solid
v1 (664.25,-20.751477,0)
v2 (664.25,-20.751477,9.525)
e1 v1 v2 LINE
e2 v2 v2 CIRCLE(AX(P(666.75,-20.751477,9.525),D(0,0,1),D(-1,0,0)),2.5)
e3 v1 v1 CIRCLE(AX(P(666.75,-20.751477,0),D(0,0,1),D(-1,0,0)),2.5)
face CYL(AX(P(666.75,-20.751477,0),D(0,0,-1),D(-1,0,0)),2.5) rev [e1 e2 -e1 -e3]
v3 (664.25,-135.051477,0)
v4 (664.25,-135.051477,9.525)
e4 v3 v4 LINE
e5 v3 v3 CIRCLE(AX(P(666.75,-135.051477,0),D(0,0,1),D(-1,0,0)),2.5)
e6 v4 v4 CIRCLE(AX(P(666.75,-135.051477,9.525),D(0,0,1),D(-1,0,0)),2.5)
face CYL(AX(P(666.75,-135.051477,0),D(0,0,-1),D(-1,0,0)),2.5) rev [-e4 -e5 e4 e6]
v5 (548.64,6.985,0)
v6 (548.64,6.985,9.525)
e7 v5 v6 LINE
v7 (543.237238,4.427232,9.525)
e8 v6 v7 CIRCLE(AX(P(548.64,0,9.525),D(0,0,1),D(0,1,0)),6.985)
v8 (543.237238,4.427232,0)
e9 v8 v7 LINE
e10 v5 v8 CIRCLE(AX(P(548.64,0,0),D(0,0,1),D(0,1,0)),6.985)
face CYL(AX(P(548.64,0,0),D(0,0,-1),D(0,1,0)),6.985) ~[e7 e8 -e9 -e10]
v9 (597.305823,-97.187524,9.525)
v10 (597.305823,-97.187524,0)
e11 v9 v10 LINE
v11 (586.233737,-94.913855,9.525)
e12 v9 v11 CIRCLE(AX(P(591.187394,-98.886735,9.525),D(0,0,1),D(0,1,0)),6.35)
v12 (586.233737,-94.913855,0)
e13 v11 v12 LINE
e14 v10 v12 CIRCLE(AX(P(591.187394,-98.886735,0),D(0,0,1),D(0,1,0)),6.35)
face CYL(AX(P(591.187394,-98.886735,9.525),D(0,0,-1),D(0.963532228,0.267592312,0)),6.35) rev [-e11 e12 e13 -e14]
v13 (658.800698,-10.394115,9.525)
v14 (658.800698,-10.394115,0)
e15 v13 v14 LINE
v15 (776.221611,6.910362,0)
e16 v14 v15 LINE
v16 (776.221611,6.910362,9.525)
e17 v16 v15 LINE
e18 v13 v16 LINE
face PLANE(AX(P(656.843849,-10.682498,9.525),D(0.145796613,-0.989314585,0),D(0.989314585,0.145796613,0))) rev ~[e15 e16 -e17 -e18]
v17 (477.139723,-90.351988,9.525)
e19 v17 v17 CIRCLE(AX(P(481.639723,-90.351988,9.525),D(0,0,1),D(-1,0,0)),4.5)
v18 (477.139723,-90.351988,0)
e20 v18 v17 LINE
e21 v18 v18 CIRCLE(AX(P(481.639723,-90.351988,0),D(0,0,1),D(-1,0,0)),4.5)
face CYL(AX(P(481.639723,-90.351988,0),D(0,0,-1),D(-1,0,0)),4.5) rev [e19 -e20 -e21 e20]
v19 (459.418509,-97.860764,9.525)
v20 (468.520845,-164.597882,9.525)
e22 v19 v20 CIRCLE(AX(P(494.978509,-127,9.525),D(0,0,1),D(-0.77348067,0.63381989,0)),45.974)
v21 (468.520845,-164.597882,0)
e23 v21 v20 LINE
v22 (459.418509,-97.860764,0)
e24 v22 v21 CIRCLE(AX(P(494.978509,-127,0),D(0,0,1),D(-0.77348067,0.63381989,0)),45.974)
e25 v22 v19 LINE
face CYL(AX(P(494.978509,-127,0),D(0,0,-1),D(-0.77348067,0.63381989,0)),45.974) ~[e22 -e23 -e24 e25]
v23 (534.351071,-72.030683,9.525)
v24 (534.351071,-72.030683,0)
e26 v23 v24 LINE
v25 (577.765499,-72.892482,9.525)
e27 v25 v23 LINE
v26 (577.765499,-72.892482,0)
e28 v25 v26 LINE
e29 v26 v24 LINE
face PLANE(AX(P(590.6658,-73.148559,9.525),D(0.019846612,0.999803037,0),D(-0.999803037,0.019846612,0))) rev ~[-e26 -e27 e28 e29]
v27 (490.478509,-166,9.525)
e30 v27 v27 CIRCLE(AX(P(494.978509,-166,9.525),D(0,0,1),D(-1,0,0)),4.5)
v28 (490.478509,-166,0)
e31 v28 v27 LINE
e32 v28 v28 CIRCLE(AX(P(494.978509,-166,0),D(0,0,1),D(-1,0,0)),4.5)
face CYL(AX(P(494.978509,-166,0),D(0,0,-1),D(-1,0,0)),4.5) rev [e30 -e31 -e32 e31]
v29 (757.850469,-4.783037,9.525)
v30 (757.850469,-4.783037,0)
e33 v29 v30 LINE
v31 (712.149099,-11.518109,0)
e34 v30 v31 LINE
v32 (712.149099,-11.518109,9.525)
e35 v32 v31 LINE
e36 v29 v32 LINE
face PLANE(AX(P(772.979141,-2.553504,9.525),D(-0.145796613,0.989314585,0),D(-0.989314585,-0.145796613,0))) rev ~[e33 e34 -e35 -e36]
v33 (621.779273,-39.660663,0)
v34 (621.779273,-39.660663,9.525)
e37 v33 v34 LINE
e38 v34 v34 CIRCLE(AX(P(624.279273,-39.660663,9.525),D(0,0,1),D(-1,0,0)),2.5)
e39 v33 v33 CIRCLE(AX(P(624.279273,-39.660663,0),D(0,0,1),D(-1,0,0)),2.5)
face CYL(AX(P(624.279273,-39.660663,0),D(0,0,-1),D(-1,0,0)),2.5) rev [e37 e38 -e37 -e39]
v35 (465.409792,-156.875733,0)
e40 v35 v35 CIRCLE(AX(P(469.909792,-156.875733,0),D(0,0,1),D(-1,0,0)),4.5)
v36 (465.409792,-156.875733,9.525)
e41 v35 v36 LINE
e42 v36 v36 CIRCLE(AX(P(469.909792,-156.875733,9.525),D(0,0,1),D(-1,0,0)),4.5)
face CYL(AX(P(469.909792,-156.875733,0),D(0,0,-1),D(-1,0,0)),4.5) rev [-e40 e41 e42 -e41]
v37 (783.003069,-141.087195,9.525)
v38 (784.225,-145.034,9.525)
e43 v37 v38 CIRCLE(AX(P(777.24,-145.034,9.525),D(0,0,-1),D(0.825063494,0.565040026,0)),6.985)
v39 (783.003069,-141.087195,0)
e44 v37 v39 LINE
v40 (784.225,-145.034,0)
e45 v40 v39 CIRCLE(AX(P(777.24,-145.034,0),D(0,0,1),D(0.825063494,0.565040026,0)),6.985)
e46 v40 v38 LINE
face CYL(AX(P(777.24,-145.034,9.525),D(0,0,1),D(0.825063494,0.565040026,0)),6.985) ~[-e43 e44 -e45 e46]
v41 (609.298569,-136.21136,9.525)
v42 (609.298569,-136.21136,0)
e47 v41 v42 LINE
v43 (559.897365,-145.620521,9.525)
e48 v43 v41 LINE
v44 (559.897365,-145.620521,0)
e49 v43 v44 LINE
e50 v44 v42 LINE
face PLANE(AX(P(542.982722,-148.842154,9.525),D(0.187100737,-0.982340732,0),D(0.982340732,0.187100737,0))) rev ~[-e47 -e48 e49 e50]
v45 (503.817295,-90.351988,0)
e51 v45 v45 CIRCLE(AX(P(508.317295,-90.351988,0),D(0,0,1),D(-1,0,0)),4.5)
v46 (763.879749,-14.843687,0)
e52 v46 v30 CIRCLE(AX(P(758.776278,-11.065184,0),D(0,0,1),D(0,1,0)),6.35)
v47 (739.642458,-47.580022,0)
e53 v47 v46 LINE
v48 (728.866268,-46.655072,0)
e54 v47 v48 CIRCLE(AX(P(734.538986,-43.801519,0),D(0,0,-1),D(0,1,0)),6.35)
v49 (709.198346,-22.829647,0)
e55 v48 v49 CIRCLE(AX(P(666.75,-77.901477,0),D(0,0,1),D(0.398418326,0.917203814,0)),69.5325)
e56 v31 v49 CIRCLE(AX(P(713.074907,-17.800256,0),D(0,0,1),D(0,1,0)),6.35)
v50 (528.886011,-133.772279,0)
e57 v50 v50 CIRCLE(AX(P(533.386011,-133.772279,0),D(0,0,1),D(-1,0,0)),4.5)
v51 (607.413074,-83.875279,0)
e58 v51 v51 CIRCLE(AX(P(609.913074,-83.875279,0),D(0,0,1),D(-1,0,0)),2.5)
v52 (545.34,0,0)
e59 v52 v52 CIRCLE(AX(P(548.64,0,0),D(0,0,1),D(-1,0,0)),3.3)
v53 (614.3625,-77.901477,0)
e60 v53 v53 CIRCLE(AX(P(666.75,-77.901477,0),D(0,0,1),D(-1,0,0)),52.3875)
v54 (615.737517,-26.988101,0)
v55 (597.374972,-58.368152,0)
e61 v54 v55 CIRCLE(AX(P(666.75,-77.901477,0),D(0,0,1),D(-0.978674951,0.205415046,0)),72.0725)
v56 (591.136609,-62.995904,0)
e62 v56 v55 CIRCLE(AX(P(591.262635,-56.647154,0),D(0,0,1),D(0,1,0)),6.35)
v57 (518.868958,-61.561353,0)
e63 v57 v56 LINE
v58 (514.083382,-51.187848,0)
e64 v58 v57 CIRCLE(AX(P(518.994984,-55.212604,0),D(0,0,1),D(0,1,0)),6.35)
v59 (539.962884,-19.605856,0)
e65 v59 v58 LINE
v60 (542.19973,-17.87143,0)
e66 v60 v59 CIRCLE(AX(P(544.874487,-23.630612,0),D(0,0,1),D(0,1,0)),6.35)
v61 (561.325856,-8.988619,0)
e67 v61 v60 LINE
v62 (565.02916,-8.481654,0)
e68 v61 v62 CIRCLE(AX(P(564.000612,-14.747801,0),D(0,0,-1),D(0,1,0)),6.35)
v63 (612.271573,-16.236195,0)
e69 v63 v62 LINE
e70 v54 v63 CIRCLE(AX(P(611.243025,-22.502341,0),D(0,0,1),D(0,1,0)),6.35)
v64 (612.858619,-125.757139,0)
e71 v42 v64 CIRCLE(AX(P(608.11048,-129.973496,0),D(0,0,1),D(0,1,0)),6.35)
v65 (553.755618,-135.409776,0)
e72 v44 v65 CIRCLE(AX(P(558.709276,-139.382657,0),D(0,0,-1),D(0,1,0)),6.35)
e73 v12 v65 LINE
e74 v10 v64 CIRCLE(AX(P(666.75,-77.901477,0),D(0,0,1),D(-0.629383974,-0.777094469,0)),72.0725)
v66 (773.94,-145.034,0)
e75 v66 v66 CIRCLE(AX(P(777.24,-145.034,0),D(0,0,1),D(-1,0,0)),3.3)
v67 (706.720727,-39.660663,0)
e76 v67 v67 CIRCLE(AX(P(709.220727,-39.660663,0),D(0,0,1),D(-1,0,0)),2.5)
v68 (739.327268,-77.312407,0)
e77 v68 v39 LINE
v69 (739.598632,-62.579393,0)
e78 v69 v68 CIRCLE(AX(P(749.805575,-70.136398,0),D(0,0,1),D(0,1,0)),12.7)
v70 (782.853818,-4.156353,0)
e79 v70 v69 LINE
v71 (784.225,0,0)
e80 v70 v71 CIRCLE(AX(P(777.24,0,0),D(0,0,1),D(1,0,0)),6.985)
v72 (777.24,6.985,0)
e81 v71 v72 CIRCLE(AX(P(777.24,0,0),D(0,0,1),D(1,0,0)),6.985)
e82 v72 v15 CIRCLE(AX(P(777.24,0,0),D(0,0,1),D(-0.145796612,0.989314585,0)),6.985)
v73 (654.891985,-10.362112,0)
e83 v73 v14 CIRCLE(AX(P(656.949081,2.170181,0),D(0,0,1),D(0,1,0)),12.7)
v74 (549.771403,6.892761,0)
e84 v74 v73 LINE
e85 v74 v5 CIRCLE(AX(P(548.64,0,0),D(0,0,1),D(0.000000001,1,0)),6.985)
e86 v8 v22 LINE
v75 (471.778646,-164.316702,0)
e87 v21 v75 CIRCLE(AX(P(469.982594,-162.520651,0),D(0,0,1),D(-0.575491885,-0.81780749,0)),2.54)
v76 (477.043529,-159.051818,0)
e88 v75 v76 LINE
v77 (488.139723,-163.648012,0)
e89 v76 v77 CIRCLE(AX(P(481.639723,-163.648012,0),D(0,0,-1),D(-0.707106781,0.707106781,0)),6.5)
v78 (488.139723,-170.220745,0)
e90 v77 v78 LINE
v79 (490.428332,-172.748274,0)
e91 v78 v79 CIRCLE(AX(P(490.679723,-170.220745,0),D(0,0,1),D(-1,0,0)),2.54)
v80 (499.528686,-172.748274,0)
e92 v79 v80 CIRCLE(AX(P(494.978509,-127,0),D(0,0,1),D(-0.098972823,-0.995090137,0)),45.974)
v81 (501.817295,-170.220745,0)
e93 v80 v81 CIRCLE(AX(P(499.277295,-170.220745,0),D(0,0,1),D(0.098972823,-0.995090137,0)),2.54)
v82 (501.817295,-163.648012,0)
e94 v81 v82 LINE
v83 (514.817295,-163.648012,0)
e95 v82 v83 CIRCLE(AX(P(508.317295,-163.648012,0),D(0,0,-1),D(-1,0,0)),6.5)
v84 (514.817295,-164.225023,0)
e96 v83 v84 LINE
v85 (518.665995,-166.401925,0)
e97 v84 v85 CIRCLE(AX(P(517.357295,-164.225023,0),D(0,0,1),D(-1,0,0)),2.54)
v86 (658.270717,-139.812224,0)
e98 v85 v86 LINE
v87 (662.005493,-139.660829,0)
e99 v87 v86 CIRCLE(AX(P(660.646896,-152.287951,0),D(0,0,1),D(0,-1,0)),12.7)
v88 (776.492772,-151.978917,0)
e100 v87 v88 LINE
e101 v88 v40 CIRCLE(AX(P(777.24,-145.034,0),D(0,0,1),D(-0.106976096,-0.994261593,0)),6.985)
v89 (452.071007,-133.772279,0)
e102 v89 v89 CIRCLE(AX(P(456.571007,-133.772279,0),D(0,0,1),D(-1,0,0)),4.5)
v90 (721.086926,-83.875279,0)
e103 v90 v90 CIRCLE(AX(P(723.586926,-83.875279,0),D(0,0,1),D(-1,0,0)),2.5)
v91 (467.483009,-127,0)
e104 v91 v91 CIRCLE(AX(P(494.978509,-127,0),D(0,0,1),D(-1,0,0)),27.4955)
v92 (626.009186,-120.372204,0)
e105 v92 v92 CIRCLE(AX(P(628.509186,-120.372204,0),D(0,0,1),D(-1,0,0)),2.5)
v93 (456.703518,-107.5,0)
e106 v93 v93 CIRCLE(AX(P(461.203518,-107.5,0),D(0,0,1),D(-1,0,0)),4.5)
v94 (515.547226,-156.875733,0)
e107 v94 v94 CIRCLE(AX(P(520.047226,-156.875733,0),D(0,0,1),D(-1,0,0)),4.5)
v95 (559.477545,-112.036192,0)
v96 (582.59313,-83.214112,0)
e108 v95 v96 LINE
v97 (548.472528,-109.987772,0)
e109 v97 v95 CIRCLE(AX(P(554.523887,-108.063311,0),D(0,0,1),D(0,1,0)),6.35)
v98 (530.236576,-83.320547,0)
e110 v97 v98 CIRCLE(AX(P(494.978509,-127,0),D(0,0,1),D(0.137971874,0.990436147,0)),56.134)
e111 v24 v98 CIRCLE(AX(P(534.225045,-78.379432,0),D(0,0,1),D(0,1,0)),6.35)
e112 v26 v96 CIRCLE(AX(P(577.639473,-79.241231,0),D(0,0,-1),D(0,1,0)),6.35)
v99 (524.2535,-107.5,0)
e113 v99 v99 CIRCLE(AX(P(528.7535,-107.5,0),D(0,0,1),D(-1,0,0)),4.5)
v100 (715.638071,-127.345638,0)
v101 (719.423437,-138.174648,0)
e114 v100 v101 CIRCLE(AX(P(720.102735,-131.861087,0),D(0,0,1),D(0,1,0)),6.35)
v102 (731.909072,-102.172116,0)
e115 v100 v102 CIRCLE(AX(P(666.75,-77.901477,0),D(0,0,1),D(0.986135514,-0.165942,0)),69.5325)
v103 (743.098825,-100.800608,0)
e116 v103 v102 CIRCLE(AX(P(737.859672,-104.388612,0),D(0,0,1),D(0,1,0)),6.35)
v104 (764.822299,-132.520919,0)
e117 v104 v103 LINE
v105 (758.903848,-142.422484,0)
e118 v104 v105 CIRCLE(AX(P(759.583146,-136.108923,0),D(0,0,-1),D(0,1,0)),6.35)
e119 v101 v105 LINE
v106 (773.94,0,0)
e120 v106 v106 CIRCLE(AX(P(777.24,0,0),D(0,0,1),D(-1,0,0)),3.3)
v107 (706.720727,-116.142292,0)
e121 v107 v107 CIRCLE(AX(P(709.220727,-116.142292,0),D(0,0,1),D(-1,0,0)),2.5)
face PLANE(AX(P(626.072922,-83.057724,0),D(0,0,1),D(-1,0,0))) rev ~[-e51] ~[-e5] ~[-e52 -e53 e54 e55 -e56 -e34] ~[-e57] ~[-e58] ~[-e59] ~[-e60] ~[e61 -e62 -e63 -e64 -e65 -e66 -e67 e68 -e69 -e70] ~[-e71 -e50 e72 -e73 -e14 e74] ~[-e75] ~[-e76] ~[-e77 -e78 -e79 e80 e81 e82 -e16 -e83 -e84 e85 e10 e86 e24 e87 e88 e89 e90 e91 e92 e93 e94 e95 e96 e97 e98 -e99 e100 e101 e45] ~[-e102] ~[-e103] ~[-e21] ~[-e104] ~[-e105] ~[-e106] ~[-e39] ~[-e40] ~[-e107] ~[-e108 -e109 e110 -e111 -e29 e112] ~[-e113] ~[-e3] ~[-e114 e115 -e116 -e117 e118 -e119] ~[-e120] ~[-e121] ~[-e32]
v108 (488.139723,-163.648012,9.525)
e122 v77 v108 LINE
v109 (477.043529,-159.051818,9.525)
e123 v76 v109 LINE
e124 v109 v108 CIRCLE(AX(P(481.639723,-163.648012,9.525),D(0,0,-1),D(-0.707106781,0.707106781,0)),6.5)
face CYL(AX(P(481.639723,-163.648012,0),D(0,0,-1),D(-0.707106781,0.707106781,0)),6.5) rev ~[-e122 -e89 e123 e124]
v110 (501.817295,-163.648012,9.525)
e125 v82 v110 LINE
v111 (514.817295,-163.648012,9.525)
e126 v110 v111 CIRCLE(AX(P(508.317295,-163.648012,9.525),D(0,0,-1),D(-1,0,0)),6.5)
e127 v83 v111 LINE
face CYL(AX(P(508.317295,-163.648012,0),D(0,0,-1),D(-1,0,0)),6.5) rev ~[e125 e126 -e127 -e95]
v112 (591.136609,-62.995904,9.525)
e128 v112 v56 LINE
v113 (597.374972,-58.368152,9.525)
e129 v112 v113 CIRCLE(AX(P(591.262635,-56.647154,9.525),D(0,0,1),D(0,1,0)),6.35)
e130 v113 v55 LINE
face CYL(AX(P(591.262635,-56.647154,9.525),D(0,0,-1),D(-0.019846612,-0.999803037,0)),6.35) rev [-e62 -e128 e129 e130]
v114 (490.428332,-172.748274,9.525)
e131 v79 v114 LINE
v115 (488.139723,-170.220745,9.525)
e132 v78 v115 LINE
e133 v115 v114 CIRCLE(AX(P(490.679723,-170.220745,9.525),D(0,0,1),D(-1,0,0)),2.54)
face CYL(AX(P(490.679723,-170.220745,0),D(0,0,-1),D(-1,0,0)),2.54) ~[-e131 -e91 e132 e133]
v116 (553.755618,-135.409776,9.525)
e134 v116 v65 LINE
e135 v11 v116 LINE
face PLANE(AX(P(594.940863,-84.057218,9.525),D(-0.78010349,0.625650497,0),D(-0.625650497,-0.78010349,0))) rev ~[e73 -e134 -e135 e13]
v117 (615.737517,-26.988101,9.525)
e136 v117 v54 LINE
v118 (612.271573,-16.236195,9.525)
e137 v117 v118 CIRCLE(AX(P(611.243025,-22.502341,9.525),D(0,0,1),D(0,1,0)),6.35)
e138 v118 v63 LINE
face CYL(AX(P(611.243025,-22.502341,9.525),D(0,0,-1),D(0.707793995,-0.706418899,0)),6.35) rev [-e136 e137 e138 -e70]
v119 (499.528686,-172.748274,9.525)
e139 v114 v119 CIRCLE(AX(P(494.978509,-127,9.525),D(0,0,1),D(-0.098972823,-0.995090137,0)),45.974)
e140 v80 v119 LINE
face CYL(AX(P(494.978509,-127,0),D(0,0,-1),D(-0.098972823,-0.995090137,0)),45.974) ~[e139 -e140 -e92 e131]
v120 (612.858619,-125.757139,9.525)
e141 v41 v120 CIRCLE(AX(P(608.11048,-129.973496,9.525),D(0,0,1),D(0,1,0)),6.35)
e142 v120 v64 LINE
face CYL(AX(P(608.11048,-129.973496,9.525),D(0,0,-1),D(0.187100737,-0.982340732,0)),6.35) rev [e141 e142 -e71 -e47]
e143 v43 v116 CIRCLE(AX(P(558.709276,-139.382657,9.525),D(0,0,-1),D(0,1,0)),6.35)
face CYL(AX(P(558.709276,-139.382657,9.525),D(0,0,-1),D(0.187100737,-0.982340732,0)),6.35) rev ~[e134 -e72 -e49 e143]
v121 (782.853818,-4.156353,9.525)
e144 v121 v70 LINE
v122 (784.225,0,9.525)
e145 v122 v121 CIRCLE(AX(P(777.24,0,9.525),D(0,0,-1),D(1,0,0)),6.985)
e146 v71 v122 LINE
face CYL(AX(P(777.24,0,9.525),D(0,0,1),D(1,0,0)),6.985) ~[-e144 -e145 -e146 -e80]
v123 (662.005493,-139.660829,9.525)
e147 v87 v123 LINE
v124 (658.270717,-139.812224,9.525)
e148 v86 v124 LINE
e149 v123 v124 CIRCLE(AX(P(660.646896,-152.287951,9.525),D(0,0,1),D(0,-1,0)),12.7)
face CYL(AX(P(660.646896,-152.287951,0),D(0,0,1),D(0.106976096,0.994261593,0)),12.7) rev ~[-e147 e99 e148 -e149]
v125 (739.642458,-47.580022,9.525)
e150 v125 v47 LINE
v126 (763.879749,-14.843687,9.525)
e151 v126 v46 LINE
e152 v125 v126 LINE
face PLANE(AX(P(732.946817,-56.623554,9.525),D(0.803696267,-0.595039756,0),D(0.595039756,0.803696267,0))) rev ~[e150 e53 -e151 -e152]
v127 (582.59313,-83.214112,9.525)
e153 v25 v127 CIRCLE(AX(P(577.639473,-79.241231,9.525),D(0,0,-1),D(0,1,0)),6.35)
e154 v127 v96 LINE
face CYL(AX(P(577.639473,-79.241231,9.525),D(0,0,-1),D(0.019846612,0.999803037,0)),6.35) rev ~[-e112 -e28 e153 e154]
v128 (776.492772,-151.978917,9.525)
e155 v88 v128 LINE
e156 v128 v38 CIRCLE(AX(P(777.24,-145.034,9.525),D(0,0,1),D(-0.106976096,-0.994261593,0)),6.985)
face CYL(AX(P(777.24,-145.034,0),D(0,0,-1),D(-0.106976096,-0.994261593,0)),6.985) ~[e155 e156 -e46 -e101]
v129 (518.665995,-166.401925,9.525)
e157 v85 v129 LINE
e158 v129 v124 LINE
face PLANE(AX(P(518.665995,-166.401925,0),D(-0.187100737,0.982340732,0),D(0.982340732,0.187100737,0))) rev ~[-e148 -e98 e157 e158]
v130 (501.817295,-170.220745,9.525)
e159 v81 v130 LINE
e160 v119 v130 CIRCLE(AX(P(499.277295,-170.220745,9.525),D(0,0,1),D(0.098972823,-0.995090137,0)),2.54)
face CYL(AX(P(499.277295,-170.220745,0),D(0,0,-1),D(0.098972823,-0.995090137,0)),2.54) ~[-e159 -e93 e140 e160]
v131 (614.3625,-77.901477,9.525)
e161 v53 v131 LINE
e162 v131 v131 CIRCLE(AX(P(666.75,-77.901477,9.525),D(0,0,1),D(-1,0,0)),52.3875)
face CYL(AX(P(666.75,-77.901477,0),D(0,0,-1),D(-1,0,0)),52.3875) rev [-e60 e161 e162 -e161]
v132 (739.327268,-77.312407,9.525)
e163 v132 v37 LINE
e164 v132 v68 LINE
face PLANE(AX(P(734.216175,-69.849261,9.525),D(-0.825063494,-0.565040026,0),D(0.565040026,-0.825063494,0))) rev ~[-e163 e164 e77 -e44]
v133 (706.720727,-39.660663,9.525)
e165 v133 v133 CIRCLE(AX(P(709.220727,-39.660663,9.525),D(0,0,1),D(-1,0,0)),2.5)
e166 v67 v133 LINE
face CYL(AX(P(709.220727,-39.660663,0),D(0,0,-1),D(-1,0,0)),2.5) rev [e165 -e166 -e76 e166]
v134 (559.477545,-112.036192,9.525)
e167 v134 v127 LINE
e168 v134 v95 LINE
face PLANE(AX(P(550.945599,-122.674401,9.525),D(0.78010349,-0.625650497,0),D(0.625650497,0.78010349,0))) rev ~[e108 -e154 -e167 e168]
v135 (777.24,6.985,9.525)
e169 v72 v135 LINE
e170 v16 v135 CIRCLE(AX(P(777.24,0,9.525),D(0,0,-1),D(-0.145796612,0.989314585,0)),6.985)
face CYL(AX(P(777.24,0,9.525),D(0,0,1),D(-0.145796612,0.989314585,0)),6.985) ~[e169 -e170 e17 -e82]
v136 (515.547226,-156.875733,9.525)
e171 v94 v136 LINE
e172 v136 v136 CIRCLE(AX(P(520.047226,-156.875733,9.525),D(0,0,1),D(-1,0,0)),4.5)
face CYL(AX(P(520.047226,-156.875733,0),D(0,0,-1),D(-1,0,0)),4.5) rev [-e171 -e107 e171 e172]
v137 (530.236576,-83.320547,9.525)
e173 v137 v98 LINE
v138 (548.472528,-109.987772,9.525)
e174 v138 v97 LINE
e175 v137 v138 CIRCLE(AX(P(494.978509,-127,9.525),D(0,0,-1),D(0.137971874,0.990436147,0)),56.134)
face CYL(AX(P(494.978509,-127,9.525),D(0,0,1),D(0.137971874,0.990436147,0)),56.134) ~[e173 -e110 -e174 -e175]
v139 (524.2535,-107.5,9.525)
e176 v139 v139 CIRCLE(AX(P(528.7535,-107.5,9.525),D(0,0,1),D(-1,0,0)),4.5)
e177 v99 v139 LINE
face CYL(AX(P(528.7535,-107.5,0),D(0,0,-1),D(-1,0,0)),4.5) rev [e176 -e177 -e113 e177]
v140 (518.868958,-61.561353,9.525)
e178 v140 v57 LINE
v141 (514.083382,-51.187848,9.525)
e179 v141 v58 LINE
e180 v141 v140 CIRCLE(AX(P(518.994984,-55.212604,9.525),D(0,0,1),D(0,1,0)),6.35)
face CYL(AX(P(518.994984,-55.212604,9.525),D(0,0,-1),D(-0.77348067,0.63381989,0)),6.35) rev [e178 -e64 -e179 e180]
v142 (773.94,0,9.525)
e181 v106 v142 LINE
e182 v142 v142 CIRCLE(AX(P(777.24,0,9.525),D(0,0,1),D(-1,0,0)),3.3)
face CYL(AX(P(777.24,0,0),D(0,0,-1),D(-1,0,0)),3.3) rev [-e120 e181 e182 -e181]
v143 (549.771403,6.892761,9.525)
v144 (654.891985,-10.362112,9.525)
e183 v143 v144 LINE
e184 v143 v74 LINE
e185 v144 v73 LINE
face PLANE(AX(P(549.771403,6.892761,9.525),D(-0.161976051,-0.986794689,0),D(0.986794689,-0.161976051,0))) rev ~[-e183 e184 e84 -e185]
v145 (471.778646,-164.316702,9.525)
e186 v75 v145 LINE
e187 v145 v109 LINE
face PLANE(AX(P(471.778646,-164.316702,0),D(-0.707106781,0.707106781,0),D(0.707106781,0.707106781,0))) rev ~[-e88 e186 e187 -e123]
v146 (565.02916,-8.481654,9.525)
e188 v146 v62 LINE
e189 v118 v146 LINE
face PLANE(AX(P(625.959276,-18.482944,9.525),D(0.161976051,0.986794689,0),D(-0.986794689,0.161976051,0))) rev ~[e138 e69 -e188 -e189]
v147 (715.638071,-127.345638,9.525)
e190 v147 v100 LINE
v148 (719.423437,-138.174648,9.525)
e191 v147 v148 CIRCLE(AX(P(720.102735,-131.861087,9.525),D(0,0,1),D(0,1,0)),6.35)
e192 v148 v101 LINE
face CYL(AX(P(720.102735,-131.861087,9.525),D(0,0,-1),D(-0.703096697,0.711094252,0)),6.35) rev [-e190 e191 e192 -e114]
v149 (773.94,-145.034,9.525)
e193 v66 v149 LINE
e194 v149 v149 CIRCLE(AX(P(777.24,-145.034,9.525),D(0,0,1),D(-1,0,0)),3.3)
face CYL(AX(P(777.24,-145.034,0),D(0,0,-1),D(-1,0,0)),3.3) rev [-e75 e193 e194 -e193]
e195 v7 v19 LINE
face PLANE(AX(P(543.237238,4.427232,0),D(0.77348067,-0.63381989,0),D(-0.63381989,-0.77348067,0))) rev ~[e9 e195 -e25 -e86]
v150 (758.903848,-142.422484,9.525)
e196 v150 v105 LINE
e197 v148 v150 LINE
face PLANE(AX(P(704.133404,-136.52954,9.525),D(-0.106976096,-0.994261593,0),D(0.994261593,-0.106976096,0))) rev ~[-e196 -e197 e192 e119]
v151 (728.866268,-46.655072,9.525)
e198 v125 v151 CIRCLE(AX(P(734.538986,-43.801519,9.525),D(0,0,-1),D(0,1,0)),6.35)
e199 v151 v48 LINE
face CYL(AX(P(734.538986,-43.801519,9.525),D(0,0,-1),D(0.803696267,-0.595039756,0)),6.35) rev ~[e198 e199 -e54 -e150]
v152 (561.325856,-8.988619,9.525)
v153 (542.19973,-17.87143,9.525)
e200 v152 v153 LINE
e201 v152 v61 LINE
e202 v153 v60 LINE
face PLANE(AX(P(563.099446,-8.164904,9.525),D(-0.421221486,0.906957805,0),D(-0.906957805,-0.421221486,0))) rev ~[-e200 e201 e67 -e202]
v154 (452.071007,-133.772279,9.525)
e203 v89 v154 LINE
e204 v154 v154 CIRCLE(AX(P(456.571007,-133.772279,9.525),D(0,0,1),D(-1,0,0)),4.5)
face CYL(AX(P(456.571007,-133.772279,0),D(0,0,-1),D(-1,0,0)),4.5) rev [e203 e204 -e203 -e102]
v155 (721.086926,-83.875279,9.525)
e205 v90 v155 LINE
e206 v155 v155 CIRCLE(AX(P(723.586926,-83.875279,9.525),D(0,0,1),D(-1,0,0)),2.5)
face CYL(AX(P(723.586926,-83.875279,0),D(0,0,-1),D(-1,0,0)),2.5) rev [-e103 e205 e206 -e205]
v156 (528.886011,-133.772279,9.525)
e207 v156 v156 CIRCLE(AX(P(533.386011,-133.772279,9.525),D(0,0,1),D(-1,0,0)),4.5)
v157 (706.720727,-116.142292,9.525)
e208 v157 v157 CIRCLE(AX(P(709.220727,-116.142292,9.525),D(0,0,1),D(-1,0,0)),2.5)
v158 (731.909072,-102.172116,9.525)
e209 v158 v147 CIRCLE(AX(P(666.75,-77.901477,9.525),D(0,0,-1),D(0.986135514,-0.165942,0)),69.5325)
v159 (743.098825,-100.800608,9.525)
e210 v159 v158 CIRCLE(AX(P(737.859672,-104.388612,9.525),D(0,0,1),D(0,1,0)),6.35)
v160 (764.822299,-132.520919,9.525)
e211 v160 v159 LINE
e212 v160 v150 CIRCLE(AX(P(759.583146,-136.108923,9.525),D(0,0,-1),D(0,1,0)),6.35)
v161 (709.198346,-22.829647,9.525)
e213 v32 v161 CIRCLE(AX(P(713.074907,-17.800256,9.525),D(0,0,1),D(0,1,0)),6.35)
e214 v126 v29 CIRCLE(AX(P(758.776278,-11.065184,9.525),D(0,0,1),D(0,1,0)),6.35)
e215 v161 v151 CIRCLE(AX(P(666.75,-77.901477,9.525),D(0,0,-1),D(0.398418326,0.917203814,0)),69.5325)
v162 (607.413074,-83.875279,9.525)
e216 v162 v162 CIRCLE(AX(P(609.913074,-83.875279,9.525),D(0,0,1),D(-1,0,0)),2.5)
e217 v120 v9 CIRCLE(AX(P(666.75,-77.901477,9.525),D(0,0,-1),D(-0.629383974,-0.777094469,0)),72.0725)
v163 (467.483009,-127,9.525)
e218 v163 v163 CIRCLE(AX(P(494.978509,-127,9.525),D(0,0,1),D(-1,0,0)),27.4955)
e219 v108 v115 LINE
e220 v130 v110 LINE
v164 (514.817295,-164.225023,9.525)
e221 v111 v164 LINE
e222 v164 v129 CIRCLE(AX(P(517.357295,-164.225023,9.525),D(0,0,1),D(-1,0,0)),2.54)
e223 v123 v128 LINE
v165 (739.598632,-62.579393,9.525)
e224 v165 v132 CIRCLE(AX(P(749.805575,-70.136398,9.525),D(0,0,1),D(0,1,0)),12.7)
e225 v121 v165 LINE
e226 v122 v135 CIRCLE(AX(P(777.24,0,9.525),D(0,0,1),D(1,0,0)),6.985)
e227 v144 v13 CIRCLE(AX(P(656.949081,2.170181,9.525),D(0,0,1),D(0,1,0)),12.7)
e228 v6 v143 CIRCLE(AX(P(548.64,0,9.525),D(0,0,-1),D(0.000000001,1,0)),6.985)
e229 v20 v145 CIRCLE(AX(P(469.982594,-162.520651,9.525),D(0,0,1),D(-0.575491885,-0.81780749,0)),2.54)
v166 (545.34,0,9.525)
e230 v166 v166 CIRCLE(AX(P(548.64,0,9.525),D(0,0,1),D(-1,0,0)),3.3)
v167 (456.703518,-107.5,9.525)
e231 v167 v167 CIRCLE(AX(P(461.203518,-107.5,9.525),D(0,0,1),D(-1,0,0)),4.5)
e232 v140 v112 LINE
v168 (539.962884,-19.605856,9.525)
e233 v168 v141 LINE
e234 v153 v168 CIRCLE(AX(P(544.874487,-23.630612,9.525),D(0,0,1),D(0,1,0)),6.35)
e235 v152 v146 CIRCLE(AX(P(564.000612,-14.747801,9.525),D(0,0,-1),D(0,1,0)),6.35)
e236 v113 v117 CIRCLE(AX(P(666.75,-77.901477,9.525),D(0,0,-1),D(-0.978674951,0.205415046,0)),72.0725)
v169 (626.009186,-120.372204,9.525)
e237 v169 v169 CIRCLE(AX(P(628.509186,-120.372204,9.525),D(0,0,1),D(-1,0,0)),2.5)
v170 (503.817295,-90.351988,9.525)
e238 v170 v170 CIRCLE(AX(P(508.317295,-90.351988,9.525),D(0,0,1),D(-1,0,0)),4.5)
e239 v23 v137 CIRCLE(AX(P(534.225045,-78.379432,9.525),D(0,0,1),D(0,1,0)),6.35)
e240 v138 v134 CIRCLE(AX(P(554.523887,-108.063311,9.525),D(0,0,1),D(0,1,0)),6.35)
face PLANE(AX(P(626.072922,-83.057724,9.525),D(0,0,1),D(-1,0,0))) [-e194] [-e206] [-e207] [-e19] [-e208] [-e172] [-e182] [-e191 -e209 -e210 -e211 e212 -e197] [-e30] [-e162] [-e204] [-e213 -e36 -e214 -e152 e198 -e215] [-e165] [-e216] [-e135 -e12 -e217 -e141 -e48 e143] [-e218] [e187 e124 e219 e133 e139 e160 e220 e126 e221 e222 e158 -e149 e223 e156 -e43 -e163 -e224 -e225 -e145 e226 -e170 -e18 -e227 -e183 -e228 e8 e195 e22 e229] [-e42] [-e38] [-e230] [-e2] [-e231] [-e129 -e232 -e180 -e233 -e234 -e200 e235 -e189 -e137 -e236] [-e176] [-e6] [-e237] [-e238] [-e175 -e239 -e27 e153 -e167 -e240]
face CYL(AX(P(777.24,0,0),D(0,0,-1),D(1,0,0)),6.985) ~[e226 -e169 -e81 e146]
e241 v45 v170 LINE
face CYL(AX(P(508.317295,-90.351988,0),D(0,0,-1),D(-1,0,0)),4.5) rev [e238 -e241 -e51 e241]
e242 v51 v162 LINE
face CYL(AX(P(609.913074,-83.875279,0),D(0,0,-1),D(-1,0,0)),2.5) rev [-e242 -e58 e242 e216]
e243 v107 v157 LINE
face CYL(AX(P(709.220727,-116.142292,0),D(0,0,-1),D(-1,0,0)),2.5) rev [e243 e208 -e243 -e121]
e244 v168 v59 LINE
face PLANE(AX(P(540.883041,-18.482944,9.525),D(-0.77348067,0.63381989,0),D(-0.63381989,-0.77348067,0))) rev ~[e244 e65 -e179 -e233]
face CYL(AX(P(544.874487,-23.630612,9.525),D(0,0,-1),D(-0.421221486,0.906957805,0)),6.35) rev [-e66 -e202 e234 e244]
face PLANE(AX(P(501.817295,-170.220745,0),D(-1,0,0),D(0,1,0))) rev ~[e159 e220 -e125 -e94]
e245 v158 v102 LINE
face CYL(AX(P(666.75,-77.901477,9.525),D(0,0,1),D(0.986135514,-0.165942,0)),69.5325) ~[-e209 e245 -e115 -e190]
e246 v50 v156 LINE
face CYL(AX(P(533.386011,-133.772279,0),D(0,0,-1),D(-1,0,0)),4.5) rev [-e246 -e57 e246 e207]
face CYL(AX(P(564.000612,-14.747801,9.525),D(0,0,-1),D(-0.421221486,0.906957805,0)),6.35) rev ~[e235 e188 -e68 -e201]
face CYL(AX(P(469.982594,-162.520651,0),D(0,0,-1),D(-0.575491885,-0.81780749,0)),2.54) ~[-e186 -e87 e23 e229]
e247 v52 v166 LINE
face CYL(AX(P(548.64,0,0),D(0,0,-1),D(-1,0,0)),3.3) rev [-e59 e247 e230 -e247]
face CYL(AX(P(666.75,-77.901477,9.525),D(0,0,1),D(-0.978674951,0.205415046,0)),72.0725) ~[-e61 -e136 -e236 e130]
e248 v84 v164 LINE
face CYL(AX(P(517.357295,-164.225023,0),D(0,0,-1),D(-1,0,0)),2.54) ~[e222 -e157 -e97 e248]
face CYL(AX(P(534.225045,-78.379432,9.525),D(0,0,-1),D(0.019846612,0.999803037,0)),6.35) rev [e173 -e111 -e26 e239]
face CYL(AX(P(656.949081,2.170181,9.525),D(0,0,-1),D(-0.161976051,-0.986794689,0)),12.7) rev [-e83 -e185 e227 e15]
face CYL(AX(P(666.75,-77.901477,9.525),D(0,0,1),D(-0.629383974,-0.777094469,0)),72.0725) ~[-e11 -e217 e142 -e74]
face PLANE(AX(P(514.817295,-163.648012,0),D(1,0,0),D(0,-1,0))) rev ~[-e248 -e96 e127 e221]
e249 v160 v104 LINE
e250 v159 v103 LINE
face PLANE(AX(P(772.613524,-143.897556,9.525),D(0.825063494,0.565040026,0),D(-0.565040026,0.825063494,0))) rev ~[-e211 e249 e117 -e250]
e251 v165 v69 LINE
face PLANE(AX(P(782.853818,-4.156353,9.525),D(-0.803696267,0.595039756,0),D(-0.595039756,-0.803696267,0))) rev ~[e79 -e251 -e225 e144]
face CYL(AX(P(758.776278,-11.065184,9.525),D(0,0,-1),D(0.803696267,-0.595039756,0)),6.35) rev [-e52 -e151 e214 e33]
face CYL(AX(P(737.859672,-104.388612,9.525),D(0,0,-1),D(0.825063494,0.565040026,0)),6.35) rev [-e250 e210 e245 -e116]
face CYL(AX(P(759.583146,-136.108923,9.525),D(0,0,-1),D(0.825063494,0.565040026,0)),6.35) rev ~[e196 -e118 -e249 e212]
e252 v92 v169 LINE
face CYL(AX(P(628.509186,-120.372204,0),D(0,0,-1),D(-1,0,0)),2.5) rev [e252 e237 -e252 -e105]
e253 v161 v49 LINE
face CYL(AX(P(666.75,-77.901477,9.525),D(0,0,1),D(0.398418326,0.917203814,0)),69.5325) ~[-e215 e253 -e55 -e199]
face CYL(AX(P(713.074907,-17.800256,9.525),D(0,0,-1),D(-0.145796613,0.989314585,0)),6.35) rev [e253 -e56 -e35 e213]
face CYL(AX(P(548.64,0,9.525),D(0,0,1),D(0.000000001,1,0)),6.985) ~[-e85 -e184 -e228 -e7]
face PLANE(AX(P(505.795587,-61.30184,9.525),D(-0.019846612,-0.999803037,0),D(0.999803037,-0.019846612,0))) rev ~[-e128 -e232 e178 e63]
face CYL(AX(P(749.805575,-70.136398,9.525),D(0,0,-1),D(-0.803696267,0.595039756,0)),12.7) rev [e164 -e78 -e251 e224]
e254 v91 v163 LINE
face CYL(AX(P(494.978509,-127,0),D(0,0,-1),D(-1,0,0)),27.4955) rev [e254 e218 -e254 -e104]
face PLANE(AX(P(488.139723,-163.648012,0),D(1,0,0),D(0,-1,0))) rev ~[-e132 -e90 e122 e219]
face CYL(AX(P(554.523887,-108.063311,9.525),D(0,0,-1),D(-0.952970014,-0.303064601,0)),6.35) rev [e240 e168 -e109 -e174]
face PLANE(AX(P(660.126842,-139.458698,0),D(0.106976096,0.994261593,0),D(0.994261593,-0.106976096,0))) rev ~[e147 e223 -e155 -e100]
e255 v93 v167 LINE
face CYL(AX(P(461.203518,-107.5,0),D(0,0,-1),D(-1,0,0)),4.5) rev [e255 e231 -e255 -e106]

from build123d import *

# Parameters (mm, degrees)
SKETCH15_R          = 4.5
SKETCH15_R_2        = 27.4955
SKETCH15_R_3        = 2.5
SKETCH15_R_4        = 52.3875
SKETCH15_R_5        = 3.3
BOSS_EXTRUDE1_DEPTH = 9.525
PROFILE_DEPTH       = 804.13111067
PROF_FILLET_R       = 12.7
CUT_EXTRUDE2_DEPTH  = 804.13111067
FILLET2_R           = 6.35
CUT_EXTRUDE4_DEPTH  = 804.13111067
FILLET5_R           = 6.35


with BuildPart() as part:
    # Sketch15 → Boss-Extrude1 (new body)
    with BuildSketch(Plane(origin=(0, 0, 0), x_dir=(-1, 0, 0), z_dir=(0, 0, 1))):
        with BuildLine():
            ThreePointArc((-468.520845097, 164.597881552), (-470.201009111, 165.051242365), (-471.778645707, 164.316701751))
            Line((-471.778645707, 164.316701751), (-477.043529325, 159.051818133))
            ThreePointArc((-477.043529325, 159.051818133), (-484.127165713, 157.642795249), (-488.139723403, 163.648012211))
            Line((-488.139723403, 163.648012211), (-488.139723403, 170.220745001))
            ThreePointArc((-488.139723403, 170.220745001), (-488.796888696, 171.925600851), (-490.428332433, 172.748273949))
            ThreePointArc((-490.428332433, 172.748273949), (-494.978508993, 172.974), (-499.528685552, 172.748273949))
            ThreePointArc((-499.528685552, 172.748273949), (-501.160129289, 171.925600851), (-501.817294582, 170.220745001))
            Line((-501.817294582, 170.220745001), (-501.817294582, 163.648012211))
            ThreePointArc((-501.817294582, 163.648012211), (-508.317294582, 157.148012211), (-514.817294582, 163.648012211))
            Line((-514.817294582, 163.648012211), (-514.817294582, 164.225022653))
            ThreePointArc((-514.817294582, 164.225022653), (-516.106794745, 166.435870942), (-518.665995494, 166.401924563))
            Line((-518.665995494, 166.401924563), (-660.126842441, 139.458698233))
            Line((-660.126842441, 139.458698233), (-776.492771968, 151.978917225))
            ThreePointArc((-776.492771968, 151.978917225), (-781.907485254, 150.230614898), (-784.225, 145.034))
            Line((-784.225, 145.034), (-784.225, 0))
            ThreePointArc((-784.225, 0), (-782.179140867, -4.939140867), (-777.24, -6.985))
            Line((-777.24, -6.985), (-548.64, -6.985))
            ThreePointArc((-548.64, -6.985), (-545.651186694, -6.313257481), (-543.237237519, -4.427231931))
            Line((-543.237237519, -4.427231931), (-459.418508663, 97.860764379))
            ThreePointArc((-459.418508663, 97.860764379), (-449.426249212, 133.212914363), (-468.520845097, 164.597881552))
        make_face()
        with Locations((-508.317294582, 90.351987789)):
            Circle(SKETCH15_R, mode=Mode.SUBTRACT)
        with Locations((-481.639723403, 90.351987789)):
            Circle(SKETCH15_R, mode=Mode.SUBTRACT)
        with Locations((-528.75349974, 107.5)):
            Circle(SKETCH15_R, mode=Mode.SUBTRACT)
        with Locations((-461.203518245, 107.5)):
            Circle(SKETCH15_R, mode=Mode.SUBTRACT)
        with Locations((-533.38601136, 133.772278929)):
            Circle(SKETCH15_R, mode=Mode.SUBTRACT)
        with Locations((-494.978508993, 127)):
            Circle(SKETCH15_R_2, mode=Mode.SUBTRACT)
        with Locations((-456.571006625, 133.772278929)):
            Circle(SKETCH15_R, mode=Mode.SUBTRACT)
        with Locations((-520.04722577, 156.875733282)):
            Circle(SKETCH15_R, mode=Mode.SUBTRACT)
        with Locations((-494.978508993, 166)):
            Circle(SKETCH15_R, mode=Mode.SUBTRACT)
        with Locations((-469.909792215, 156.875733282)):
            Circle(SKETCH15_R, mode=Mode.SUBTRACT)
        with Locations((-609.91307368, 83.875279047)):
            Circle(SKETCH15_R_3, mode=Mode.SUBTRACT)
        with Locations((-666.75, 135.051477371)):
            Circle(SKETCH15_R_3, mode=Mode.SUBTRACT)
        with Locations((-666.75, 20.751477371)):
            Circle(SKETCH15_R_3, mode=Mode.SUBTRACT)
        with Locations((-709.220726776, 39.660663218)):
            Circle(SKETCH15_R_3, mode=Mode.SUBTRACT)
        with Locations((-624.279273224, 39.660663218)):
            Circle(SKETCH15_R_3, mode=Mode.SUBTRACT)
        with Locations((-666.75, 77.901477371)):
            Circle(SKETCH15_R_4, mode=Mode.SUBTRACT)
        with Locations((-723.58692632, 83.875279047)):
            Circle(SKETCH15_R_3, mode=Mode.SUBTRACT)
        with Locations((-709.220726776, 116.142291524)):
            Circle(SKETCH15_R_3, mode=Mode.SUBTRACT)
        with Locations((-628.509185847, 120.372204147)):
            Circle(SKETCH15_R_3, mode=Mode.SUBTRACT)
        with Locations((-548.64, 0)):
            Circle(SKETCH15_R_5, mode=Mode.SUBTRACT)
        with Locations((-777.24, 0)):
            Circle(SKETCH15_R_5, mode=Mode.SUBTRACT)
        with Locations((-777.24, 145.034)):
            Circle(SKETCH15_R_5, mode=Mode.SUBTRACT)
    extrude(amount=BOSS_EXTRUDE1_DEPTH)

    # Sketch18 → Profile (cut, through all)
    with BuildSketch(Plane.XY.offset(9.525)):
        with BuildLine():
            Line((656.843849148, -10.682497906), (776.22161066, 6.910362375))
            ThreePointArc((776.22161066, 6.910362375), (776.729439616, 6.966315604), (777.24, 6.985))
            Line((777.24, 6.985), (548.64, 6.985))
            ThreePointArc((548.64, 6.985), (549.207578223, 6.961902036), (549.771402717, 6.892760905))
            Line((549.771402717, 6.892760905), (656.843849148, -10.682497906))
        make_face()
        with BuildLine():
            Line((734.216175486, -69.849260886), (783.003068504, -141.087195416))
            ThreePointArc((783.003068504, -141.087195416), (783.91252795, -142.968183999), (784.225, -145.034))
            Line((784.225, -145.034), (784.225, 0))
            ThreePointArc((784.225, 0), (783.873353099, -2.188344502), (782.853818423, -4.156352694))
            Line((782.853818423, -4.156352694), (734.216175486, -69.849260886))
        make_face()
    extrude(amount=-PROFILE_DEPTH, mode=Mode.SUBTRACT)

    # Prof Fillet
    prof_fillet_edges = [part.edges().sort_by_distance(p)[0] for p in [
        (660.126842441, -139.458698233, 4.7625),
        (734.216175486, -69.849260886, 4.7625),
        (656.843849148, -10.682497906, 4.7625),
    ]]
    fillet(prof_fillet_edges, radius=PROF_FILLET_R)

    # Sketch19 → Cut-Extrude2 (cut, through all)
    with BuildSketch(Plane.XY.offset(9.525)):
        with BuildLine():
            ThreePointArc((694.45302227, -14.12600314), (718.284506978, -31.22211205), (732.946816776, -56.623554423))
            Line((732.946816776, -56.623554423), (772.979141054, -2.553504053))
            Line((772.979141054, -2.553504053), (694.45302227, -14.12600314))
        make_face()
        with BuildLine():
            Line((772.613524345, -143.897556318), (735.318467656, -89.439839453))
            ThreePointArc((735.318467656, -89.439839453), (724.722491105, -116.293648856), (704.133403657, -136.529539656))
            Line((704.133403657, -136.529539656), (772.613524345, -143.897556318))
        make_face()
    extrude(amount=-CUT_EXTRUDE2_DEPTH, mode=Mode.SUBTRACT)

    # Fillet2
    fillet2_edges = [part.edges().sort_by_distance(p)[0] for p in [
        (694.45302227, -14.12600314, 4.7625),
        (772.979141054, -2.553504053, 4.7625),
        (732.946816776, -56.623554423, 4.7625),
        (772.613524345, -143.897556318, 4.7625),
        (704.133403657, -136.529539656, 4.7625),
        (735.318467656, -89.439839453, 4.7625),
    ]]
    fillet(fillet2_edges, radius=FILLET2_R)

    # Sketch22 → Cut-Extrude4 (cut, through all)
    with BuildSketch(Plane.XY.offset(9.525)):
        with BuildLine():
            Line((563.09944586, -8.164904037), (540.883041369, -18.482944043))
            Line((540.883041369, -18.482944043), (505.79558687, -61.301839836))
            Line((505.79558687, -61.301839836), (596.214449629, -63.096701449))
            ThreePointArc((596.214449629, -63.096701449), (606.783495422, -37.920687172), (625.959276135, -18.482944043))
            Line((625.959276135, -18.482944043), (563.09944586, -8.164904037))
        make_face()
        with BuildLine():
            Line((542.982722013, -148.842154434), (621.388723544, -133.908618474))
            ThreePointArc((621.388723544, -133.908618474), (603.082763934, -111.679107661), (594.94086334, -84.057218462))
            Line((594.94086334, -84.057218462), (542.982722013, -148.842154434))
        make_face()
        with BuildLine():
            Line((590.665799743, -73.148559395), (502.723422183, -71.402857307))
            ThreePointArc((502.723422183, -71.402857307), (535.868576594, -88.541862661), (550.94559886, -122.674400877))
            Line((550.94559886, -122.674400877), (590.665799743, -73.148559395))
        make_face()
    extrude(amount=-CUT_EXTRUDE4_DEPTH, mode=Mode.SUBTRACT)

    # Fillet5
    fillet5_edges = [part.edges().sort_by_distance(p)[0] for p in [
        (621.388723544, -133.908618474, 4.7625),
        (542.982722013, -148.842154434, 4.7625),
        (594.94086334, -84.057218462, 4.7625),
        (550.94559886, -122.674400877, 4.7625),
        (590.665799743, -73.148559395, 4.7625),
        (502.723422183, -71.402857307, 4.7625),
        (596.214449629, -63.096701449, 4.7625),
        (505.79558687, -61.301839836, 4.7625),
        (625.959276135, -18.482944043, 4.7625),
        (563.09944586, -8.164904037, 4.7625),
        (540.883041369, -18.482944043, 4.7625),
    ]]
    fillet(fillet5_edges, radius=FILLET5_R)


solid = part.part
